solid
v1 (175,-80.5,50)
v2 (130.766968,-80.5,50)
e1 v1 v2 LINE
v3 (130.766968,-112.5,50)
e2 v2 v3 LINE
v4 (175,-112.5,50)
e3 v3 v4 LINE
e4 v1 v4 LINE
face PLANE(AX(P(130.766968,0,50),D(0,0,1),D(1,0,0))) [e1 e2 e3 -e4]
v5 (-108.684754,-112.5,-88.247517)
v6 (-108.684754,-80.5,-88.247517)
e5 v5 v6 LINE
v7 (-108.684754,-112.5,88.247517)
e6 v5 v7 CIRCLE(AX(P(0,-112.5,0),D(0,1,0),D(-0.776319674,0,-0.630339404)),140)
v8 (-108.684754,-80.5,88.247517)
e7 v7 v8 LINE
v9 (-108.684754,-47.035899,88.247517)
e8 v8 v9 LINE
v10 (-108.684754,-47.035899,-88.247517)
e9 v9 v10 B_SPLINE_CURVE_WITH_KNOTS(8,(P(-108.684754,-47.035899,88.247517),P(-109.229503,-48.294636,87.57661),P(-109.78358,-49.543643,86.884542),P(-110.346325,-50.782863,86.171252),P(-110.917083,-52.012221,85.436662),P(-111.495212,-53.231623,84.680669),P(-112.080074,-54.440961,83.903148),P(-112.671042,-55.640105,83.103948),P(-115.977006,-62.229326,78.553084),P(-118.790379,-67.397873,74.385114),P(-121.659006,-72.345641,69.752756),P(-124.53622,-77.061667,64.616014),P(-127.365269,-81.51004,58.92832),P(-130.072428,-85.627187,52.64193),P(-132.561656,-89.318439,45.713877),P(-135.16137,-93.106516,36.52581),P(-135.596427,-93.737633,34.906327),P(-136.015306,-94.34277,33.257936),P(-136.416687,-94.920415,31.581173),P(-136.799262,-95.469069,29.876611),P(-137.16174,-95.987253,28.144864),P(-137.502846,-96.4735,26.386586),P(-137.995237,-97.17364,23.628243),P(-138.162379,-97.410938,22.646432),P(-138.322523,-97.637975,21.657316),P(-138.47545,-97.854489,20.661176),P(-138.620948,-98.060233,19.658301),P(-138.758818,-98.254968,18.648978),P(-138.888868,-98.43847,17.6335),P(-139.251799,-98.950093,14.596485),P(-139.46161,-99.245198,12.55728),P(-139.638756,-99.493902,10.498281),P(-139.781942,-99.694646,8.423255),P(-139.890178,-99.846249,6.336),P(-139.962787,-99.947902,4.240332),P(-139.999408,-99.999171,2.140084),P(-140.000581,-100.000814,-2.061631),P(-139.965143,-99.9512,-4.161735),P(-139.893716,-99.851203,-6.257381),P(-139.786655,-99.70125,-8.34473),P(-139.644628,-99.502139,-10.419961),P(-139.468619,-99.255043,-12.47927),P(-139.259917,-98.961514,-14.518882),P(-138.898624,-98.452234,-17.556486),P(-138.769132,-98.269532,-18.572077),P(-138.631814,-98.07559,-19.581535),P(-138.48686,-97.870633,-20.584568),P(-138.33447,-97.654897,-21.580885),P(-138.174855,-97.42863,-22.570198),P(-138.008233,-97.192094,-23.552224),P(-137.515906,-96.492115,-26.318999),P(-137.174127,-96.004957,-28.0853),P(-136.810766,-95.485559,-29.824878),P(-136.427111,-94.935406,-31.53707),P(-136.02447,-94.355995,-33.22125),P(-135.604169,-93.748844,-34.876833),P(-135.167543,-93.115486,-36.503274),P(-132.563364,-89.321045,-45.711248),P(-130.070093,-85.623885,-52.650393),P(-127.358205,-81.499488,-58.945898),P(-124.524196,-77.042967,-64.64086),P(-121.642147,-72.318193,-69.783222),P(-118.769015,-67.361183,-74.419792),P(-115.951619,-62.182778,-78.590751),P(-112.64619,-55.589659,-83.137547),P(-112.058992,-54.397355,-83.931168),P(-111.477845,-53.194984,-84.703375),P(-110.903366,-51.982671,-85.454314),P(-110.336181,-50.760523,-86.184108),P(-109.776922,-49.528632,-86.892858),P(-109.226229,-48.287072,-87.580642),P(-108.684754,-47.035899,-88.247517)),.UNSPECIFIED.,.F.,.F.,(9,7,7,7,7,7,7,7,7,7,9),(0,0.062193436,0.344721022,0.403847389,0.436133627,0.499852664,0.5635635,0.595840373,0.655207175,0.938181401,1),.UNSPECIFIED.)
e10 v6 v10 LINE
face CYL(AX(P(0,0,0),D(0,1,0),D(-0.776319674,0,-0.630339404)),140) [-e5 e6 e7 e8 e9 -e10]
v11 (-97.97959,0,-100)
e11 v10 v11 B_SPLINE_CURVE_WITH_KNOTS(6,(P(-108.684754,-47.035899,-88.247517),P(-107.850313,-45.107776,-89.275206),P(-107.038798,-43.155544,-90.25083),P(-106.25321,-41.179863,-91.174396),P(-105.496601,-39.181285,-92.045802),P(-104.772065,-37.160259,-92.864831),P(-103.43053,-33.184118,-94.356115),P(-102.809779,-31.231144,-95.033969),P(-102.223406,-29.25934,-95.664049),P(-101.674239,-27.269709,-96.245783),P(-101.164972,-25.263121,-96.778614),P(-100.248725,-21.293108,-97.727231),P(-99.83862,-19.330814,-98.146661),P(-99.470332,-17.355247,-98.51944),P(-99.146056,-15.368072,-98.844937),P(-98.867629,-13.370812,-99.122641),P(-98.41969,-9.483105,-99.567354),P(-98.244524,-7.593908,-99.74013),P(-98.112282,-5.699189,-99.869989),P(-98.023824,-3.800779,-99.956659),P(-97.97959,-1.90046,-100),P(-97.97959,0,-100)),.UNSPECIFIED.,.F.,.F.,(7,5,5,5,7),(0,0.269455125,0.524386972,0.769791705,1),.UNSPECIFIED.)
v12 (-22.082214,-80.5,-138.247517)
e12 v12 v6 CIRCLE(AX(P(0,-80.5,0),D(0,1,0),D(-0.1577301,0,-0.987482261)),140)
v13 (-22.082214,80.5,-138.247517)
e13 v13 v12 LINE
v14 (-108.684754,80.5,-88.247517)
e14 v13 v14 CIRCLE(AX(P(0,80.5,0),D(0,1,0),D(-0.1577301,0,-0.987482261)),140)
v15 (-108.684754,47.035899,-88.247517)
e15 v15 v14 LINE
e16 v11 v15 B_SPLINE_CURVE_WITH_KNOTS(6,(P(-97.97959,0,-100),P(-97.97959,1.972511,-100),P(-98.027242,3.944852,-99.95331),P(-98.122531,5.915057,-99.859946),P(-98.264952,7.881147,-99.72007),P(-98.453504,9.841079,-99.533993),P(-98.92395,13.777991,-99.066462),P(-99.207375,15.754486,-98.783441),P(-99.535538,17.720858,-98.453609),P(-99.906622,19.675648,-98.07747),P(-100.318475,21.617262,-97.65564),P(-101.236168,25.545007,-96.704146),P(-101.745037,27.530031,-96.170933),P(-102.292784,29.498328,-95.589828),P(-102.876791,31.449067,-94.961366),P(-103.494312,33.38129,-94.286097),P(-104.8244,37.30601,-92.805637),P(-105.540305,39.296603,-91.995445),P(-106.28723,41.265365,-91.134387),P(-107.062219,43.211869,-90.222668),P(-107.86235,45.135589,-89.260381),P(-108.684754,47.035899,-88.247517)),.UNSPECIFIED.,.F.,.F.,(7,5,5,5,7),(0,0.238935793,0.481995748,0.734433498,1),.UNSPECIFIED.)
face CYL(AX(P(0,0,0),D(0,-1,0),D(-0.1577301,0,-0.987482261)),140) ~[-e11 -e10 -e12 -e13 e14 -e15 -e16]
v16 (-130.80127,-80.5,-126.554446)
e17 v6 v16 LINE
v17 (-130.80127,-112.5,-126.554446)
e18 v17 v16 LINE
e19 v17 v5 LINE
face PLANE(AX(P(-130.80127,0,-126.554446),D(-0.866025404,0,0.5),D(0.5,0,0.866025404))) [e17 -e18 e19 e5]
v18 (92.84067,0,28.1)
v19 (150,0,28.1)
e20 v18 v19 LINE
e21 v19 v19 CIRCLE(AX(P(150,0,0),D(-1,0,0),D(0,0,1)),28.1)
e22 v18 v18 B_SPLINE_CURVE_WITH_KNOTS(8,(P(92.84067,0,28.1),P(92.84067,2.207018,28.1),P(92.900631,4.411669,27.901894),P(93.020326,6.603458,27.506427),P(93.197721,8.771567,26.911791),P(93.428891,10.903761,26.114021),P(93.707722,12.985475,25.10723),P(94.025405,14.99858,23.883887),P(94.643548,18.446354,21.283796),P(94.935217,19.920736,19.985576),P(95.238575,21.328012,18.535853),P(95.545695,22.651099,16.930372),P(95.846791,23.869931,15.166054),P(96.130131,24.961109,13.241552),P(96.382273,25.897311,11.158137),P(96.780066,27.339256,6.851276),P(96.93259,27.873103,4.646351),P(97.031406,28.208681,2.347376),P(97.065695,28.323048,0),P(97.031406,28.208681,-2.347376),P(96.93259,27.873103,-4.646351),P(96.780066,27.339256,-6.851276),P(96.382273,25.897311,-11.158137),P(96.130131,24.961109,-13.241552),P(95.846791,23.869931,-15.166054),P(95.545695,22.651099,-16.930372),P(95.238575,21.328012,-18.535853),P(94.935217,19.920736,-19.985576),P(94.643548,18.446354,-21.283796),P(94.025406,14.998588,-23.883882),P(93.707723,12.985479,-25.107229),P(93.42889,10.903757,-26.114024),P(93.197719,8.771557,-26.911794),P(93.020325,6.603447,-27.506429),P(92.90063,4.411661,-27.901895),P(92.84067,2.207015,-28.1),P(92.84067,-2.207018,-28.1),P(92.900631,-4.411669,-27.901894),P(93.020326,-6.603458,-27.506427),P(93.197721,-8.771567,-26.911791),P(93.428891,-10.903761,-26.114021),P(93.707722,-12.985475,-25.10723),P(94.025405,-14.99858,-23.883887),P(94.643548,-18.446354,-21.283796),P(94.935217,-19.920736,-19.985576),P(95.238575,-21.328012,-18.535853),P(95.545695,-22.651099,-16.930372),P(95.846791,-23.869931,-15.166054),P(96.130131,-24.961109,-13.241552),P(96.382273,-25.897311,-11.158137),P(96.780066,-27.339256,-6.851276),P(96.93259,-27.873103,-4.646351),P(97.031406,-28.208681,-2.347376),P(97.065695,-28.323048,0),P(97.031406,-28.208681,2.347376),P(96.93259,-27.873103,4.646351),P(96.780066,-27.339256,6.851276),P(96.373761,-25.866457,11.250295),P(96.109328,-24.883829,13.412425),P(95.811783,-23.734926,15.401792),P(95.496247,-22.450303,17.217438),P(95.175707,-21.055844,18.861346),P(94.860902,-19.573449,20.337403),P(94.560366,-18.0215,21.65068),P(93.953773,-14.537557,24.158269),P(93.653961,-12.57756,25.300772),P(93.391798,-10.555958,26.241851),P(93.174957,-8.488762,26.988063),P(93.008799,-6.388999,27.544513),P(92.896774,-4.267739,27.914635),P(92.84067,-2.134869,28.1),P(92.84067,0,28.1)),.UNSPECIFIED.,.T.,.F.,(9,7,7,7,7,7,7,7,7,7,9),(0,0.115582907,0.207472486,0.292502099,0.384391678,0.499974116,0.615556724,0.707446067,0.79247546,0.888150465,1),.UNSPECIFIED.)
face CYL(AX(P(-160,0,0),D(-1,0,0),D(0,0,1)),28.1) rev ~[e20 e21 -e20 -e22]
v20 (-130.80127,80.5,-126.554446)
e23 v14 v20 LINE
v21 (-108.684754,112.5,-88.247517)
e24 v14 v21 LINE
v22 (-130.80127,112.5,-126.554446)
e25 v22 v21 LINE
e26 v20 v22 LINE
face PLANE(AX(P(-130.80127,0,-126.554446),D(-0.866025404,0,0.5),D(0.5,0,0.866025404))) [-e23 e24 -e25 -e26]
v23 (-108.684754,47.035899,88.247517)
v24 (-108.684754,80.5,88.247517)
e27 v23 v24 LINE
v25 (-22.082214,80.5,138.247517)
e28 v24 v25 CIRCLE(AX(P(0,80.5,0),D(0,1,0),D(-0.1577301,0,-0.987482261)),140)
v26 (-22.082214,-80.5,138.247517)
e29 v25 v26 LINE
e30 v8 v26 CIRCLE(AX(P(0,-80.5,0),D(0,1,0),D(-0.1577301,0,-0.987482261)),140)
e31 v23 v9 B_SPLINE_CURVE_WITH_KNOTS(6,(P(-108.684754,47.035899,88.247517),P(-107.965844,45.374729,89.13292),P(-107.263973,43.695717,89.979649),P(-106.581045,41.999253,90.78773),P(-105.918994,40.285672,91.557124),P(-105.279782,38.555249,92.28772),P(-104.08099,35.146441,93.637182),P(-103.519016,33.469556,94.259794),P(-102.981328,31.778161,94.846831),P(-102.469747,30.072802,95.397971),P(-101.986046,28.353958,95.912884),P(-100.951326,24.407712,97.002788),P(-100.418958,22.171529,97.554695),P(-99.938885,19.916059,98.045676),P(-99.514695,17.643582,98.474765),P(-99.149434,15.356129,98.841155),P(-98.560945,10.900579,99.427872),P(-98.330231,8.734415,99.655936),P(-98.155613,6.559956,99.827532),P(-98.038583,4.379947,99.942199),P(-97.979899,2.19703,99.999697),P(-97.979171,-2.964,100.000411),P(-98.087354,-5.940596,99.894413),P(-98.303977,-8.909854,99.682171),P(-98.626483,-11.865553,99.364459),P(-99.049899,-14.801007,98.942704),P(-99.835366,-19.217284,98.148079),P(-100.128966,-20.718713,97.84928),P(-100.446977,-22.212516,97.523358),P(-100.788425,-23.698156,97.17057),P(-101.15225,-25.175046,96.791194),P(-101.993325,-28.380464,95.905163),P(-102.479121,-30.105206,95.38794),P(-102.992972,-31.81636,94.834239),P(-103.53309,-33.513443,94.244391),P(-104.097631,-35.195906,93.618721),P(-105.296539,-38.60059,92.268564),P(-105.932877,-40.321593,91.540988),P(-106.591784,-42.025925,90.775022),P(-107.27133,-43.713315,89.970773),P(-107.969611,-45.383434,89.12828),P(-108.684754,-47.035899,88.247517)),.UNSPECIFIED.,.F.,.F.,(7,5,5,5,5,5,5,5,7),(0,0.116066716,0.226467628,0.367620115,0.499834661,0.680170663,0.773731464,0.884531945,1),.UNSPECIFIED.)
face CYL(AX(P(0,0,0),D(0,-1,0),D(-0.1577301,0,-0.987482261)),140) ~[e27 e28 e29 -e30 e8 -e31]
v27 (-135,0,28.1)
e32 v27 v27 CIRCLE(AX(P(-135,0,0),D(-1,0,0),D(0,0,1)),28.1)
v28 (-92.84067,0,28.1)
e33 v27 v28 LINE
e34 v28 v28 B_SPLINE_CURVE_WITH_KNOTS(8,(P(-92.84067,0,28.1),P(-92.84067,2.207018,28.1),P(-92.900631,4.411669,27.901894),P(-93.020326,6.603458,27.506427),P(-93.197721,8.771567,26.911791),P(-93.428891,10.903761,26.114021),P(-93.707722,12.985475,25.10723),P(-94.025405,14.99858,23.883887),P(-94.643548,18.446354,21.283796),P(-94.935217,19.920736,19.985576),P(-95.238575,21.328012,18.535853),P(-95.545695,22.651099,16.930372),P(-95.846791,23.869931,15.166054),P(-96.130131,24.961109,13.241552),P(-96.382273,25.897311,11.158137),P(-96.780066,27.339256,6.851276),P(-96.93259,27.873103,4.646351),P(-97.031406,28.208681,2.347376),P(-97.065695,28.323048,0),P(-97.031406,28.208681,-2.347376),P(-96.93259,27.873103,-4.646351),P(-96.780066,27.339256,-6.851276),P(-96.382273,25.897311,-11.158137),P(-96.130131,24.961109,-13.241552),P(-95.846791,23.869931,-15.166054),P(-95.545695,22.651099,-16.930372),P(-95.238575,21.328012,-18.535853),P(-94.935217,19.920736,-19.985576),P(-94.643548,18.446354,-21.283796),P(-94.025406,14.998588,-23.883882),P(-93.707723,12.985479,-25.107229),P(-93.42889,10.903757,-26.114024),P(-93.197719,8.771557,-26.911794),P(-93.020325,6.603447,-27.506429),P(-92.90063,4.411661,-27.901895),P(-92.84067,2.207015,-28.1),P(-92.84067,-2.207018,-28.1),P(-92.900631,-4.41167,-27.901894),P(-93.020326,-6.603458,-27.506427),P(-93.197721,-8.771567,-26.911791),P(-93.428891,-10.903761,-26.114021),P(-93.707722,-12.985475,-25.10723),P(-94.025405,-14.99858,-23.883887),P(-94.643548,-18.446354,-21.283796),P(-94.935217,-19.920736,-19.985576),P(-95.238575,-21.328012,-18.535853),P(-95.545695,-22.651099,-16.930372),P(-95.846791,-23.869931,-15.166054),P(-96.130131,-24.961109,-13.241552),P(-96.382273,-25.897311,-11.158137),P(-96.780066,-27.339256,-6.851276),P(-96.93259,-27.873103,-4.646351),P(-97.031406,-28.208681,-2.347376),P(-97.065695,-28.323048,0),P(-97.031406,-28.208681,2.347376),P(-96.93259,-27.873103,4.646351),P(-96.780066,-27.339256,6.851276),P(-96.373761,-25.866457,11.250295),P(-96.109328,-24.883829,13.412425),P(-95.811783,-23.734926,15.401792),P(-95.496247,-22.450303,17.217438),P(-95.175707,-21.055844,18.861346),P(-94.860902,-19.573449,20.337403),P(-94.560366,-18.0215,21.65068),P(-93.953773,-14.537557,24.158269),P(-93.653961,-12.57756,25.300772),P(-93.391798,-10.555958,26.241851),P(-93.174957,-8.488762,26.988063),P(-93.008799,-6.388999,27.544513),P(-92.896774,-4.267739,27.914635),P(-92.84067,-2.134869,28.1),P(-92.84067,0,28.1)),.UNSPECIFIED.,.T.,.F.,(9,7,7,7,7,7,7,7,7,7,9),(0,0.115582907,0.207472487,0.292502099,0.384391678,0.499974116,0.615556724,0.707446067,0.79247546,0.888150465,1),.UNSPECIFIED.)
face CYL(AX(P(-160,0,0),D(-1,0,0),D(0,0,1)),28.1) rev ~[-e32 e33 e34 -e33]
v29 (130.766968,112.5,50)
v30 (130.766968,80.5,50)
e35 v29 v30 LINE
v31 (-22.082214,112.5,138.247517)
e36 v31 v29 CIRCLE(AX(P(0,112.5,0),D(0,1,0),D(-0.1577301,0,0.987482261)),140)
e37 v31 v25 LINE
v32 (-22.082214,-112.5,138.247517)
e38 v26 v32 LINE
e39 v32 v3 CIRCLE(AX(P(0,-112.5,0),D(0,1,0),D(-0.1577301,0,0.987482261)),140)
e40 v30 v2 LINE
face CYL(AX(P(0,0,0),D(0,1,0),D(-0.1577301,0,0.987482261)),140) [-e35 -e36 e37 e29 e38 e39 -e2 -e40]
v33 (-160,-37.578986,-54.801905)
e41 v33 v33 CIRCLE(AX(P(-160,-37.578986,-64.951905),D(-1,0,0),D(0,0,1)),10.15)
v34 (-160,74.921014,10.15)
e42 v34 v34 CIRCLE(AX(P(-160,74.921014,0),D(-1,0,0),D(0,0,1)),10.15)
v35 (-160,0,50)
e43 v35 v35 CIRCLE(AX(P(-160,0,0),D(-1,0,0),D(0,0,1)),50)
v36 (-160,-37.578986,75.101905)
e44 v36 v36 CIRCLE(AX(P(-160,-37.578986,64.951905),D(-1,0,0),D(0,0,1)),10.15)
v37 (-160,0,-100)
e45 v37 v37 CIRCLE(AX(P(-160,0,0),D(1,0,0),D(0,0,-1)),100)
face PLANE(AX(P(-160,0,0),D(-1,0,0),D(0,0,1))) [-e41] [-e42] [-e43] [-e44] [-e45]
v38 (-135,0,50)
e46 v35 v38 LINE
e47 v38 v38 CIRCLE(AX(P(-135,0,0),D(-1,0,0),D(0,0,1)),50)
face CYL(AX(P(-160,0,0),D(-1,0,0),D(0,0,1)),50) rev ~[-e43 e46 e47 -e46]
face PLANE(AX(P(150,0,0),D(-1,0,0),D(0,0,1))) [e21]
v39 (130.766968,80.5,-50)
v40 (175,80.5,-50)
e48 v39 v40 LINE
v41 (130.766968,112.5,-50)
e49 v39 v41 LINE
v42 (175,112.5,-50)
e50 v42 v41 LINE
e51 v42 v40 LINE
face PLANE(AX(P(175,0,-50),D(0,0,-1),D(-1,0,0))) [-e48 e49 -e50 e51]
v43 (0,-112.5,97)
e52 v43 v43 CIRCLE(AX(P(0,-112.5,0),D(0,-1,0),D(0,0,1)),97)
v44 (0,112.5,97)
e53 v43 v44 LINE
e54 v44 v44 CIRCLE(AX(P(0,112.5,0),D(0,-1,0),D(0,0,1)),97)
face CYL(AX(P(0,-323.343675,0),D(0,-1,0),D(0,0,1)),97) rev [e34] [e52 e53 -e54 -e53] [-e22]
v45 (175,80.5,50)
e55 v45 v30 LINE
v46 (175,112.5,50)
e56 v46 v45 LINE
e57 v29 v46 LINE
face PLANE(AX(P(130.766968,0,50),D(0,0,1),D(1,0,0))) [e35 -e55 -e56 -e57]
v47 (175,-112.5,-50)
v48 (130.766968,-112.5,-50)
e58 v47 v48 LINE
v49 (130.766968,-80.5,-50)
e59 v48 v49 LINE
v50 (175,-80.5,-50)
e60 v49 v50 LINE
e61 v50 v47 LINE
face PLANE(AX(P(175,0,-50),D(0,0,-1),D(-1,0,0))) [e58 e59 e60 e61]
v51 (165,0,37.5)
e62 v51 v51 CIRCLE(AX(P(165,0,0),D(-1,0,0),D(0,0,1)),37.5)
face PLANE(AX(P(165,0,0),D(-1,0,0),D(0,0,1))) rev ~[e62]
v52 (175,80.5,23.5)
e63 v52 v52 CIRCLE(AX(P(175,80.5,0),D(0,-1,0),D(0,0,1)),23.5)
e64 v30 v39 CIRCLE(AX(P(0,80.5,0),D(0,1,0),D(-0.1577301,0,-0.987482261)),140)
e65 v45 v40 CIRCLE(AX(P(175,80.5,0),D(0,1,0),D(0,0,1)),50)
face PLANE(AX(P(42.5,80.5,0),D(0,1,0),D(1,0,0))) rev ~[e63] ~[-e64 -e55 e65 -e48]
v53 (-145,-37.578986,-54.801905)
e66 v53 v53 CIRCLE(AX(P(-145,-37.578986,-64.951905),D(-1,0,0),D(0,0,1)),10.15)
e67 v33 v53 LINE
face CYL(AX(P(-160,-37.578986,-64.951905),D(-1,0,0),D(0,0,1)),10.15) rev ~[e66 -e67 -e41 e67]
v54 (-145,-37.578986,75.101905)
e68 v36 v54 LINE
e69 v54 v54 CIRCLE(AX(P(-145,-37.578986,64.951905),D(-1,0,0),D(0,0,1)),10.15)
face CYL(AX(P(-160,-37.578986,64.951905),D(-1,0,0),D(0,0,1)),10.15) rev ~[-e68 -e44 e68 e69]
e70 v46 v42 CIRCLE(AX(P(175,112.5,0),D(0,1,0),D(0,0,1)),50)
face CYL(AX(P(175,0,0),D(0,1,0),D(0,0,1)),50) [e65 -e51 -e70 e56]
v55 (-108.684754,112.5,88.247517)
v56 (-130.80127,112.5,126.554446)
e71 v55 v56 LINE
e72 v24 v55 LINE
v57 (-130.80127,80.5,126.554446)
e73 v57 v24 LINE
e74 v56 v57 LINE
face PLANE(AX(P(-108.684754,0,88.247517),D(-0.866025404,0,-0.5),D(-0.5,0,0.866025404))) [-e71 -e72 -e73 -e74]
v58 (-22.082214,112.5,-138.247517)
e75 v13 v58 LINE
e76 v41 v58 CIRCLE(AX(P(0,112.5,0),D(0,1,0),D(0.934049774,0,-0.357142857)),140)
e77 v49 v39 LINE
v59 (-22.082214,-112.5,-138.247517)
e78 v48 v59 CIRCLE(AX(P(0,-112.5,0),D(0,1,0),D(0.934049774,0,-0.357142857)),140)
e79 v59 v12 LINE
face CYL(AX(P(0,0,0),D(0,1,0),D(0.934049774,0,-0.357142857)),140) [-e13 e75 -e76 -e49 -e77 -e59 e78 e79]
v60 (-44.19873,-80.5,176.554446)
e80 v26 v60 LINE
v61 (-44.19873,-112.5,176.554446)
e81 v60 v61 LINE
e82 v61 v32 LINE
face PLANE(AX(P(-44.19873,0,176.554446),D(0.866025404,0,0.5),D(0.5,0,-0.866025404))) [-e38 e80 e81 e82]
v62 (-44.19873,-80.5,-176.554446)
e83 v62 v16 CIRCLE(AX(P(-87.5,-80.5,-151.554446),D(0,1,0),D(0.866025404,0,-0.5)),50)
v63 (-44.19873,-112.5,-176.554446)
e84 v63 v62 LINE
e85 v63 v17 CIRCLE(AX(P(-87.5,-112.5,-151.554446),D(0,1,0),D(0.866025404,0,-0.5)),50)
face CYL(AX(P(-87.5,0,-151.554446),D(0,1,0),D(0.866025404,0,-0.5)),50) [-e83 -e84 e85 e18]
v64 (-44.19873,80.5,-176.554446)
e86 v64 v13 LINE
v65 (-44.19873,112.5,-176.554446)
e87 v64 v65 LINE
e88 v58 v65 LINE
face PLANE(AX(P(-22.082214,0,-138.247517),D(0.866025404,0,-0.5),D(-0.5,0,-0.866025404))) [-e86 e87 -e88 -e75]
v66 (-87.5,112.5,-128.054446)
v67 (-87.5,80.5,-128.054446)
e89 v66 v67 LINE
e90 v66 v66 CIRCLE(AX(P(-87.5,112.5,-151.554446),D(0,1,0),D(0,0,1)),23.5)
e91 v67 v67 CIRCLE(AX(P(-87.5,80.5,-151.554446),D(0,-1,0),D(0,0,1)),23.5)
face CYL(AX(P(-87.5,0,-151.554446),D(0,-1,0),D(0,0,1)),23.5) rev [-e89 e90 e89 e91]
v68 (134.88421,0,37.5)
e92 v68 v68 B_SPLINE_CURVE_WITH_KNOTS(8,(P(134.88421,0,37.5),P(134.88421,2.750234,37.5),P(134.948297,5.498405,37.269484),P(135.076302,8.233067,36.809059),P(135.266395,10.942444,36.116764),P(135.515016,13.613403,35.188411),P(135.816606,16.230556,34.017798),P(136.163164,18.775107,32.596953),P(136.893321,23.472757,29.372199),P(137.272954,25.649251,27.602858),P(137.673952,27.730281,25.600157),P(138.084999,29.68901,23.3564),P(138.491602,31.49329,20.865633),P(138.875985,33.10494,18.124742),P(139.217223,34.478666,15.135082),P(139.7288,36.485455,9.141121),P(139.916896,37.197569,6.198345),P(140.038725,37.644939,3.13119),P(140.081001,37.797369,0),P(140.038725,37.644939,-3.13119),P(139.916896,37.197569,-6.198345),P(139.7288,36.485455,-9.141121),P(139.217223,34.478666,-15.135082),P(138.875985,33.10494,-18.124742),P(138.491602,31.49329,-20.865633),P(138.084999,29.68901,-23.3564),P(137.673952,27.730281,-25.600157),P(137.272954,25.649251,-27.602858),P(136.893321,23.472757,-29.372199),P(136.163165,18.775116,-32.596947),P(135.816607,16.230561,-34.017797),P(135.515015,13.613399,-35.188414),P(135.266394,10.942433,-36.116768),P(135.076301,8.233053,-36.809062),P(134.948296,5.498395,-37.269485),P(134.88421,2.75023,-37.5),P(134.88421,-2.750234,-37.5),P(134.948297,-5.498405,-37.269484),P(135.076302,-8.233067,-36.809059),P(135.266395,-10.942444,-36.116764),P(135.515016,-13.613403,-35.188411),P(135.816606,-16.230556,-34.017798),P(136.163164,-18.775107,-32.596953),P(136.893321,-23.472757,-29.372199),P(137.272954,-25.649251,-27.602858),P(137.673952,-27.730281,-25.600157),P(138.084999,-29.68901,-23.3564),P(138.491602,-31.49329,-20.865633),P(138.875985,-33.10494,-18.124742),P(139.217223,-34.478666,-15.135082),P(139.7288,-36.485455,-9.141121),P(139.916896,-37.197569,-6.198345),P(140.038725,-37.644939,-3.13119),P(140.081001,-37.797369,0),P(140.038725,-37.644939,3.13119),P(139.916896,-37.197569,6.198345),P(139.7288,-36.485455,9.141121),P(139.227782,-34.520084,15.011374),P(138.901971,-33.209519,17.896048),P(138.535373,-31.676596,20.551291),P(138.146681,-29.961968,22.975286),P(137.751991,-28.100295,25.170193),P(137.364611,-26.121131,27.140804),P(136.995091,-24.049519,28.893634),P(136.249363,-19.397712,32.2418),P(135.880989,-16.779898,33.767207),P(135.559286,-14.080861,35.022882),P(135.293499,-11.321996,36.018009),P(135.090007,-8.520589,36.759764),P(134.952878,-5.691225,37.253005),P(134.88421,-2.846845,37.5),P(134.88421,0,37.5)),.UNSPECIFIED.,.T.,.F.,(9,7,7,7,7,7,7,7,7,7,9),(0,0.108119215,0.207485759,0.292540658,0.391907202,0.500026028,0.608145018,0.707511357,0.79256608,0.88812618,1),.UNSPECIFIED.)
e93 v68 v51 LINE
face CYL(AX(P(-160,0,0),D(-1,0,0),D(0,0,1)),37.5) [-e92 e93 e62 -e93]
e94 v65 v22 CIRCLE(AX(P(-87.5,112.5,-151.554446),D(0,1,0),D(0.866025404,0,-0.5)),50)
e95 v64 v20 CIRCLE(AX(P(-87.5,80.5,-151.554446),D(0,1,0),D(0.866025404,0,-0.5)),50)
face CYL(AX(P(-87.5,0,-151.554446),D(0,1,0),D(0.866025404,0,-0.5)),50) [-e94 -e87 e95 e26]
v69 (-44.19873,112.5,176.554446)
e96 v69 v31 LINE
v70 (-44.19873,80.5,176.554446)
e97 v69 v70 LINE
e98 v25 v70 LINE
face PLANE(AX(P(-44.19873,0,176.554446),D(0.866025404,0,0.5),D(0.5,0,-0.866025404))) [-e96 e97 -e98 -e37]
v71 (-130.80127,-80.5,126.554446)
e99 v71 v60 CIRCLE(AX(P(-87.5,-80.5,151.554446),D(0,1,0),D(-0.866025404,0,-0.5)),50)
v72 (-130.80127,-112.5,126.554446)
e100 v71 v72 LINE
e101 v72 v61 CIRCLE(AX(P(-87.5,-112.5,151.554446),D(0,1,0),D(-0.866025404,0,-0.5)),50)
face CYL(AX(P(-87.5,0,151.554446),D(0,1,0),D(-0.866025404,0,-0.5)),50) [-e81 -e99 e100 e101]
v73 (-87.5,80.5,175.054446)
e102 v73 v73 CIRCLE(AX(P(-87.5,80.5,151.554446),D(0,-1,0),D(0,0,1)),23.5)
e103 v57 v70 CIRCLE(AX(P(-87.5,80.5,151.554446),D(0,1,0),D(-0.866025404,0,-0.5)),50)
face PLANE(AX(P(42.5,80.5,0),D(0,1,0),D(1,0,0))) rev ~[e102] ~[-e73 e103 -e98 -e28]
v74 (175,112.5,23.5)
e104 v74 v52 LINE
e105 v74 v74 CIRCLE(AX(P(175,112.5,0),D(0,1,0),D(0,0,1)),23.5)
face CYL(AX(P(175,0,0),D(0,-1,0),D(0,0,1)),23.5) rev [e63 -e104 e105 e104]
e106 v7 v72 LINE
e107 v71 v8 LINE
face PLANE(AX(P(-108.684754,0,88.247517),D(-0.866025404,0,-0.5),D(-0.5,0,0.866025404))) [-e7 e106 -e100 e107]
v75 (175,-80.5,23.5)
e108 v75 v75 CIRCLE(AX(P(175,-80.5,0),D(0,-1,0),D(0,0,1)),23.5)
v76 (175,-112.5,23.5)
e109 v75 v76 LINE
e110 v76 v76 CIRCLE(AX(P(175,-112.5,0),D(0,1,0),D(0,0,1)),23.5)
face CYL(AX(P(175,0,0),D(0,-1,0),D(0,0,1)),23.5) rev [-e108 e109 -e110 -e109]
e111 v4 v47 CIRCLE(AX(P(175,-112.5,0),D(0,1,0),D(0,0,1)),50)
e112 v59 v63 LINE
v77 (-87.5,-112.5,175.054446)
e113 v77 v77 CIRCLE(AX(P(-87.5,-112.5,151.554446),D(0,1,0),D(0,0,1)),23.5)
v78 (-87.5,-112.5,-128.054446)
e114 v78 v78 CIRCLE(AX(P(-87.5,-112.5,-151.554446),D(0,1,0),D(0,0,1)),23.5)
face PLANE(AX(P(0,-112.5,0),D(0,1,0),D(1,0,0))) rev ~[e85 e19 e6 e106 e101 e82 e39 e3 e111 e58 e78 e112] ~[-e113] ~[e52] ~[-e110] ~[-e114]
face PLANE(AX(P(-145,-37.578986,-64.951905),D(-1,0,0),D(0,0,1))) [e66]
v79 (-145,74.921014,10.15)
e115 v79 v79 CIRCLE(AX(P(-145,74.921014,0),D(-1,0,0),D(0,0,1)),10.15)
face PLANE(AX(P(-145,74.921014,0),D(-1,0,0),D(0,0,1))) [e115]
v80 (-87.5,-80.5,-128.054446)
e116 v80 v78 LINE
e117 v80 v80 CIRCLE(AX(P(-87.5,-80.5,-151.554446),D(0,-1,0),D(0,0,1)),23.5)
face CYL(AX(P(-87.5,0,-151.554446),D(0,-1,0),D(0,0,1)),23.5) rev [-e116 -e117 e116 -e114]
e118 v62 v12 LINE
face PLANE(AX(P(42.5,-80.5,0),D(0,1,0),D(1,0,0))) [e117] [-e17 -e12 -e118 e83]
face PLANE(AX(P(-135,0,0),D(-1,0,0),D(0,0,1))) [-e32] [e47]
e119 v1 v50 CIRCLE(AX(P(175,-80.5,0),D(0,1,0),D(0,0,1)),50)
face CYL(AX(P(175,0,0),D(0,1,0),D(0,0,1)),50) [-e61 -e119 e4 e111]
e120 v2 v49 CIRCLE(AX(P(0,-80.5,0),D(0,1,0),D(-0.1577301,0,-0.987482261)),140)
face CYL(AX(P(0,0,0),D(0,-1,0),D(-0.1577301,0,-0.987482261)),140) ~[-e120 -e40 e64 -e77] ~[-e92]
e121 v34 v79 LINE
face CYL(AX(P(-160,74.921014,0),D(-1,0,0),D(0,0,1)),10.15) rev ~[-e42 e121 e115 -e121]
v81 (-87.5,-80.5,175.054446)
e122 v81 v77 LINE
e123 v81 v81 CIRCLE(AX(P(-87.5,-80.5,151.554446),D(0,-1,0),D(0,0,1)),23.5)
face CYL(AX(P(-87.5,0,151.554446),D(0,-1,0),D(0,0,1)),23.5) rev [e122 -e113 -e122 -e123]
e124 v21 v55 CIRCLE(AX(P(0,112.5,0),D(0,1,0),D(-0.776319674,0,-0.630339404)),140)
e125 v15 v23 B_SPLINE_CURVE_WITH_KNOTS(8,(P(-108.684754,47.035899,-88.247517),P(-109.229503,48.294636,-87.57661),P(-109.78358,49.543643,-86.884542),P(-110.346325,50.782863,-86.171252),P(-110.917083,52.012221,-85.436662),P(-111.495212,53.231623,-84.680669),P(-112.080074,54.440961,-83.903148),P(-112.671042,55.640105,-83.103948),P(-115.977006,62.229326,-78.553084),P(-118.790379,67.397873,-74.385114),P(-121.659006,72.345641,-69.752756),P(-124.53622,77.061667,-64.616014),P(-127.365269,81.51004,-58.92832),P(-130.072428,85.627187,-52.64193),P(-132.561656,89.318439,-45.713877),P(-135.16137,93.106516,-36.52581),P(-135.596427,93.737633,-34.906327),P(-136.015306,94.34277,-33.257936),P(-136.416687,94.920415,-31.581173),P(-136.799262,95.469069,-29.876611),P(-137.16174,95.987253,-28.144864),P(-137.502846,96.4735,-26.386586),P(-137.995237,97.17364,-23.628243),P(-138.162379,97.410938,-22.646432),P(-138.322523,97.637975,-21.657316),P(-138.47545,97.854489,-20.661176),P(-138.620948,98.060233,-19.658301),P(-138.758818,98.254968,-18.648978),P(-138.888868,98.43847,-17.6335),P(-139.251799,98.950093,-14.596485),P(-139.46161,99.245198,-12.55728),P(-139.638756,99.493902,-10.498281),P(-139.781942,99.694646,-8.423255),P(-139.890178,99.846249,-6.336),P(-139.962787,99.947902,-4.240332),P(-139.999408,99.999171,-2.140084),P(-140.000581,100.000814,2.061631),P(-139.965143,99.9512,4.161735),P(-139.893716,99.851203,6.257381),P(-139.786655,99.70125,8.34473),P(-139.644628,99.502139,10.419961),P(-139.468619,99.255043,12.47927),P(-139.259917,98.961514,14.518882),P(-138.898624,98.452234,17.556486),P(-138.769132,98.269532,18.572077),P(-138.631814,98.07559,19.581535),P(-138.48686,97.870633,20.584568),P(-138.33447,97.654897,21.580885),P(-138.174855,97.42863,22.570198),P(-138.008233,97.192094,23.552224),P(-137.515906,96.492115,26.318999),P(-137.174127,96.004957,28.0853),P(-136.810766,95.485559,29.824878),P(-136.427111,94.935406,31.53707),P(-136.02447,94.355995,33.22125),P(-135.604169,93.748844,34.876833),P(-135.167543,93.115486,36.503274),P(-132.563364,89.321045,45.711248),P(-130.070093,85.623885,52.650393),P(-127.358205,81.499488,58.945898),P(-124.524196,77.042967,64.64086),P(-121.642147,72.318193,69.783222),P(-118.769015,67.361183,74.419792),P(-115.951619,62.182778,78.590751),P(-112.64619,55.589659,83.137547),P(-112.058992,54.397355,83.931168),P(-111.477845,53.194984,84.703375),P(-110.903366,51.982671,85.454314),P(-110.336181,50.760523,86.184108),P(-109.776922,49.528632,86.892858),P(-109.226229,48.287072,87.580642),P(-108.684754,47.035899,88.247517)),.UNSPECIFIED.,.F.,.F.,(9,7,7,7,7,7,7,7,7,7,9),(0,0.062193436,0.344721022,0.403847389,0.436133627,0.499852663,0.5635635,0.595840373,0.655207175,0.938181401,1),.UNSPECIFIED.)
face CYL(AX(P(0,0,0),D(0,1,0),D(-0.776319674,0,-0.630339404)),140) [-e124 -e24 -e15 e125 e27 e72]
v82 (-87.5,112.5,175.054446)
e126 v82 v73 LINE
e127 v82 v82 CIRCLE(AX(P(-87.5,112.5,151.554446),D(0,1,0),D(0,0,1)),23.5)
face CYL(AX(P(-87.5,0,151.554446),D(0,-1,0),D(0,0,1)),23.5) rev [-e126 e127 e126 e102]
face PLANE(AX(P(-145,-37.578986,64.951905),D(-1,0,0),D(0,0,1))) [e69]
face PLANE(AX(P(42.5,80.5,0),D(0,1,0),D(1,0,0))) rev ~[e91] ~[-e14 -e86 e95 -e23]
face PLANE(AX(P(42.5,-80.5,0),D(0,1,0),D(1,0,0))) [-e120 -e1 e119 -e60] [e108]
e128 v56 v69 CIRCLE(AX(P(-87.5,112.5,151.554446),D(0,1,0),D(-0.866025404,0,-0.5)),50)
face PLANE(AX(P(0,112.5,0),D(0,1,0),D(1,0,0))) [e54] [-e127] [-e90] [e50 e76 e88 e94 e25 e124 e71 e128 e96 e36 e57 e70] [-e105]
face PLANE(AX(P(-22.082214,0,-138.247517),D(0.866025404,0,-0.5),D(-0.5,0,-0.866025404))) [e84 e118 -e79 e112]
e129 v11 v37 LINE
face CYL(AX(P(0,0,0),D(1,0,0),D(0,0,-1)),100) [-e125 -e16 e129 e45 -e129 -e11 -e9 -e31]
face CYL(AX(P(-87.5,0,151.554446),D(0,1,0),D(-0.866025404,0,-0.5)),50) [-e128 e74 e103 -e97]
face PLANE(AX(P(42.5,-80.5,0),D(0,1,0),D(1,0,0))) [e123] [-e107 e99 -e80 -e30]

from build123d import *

# Parameters (mm, degrees)
SKETCH1_R               = 23.5
BOSS_EXTRUDE1_DEPTH     = 112.5
SKETCH2_OUTSIDE_W       = 484.702
SKETCH2_OUTSIDE_H       = 522.81
SKETCH2_OUTSIDE_R       = 140
CUT_EXTRUDE2_DEPTH      = 80.5
SKETCH3_R               = 100
BOSS_EXTRUDE2_DEPTH     = 160
SKETCH5_R               = 37.5
BOSS_EXTRUDE3_DEPTH     = 325
SKETCH6_R               = 28.1
CUT_EXTRUDE3_DEPTH      = 310
SKETCH7_R               = 50
CUT_EXTRUDE4_DEPTH      = 25
SKETCH8_R               = 10.15
CUT_EXTRUDE5_DEPTH      = 15
CUT_EXTRUDE6_DEPTH      = 323.343674653
CUT_EXTRUDE6_DEPTH_BACK = 323.343674653
SKETCH9_R               = 97


with BuildPart() as part:
    # Sketch1 → Boss-Extrude1 (new, symmetric)
    with BuildSketch(Plane(origin=(0, 0, 0), x_dir=(1, 0, 0), z_dir=(0, 1, 0))):
        with BuildLine():
            Line((175, 50), (130.766968306, 50))
            ThreePointArc((130.766968306, 50), (70, 121.24355653), (-22.082213964, 138.247516529))
            Line((-22.082213964, 138.247516529), (-44.198729811, 176.554445662))
            ThreePointArc((-44.198729811, 176.554445662), (-112.5, 194.855715852), (-130.801270189, 126.554445662))
            Line((-130.801270189, 126.554445662), (-108.684754342, 88.247516529))
            ThreePointArc((-108.684754342, 88.247516529), (-140, 0), (-108.684754342, -88.247516529))
            Line((-108.684754342, -88.247516529), (-130.801270189, -126.554445662))
            ThreePointArc((-130.801270189, -126.554445662), (-112.5, -194.855715851), (-44.198729811, -176.554445662))
            Line((-44.198729811, -176.554445662), (-22.082213964, -138.247516529))
            ThreePointArc((-22.082213964, -138.247516529), (70, -121.24355653), (130.766968306, -50))
            Line((130.766968306, -50), (175, -50))
            ThreePointArc((175, -50), (225, 0), (175, 50))
        make_face()
        with Locations(Location((175, 0, 0), (0, 0, 270))):
            Circle(SKETCH1_R, mode=Mode.SUBTRACT)
        with Locations(Location((-87.5, 151.554445662, 0), (0, 0, 270))):
            Circle(SKETCH1_R, mode=Mode.SUBTRACT)
        with Locations(Location((-87.5, -151.554445662, 0), (0, 0, 270))):
            Circle(SKETCH1_R, mode=Mode.SUBTRACT)
    extrude(amount=BOSS_EXTRUDE1_DEPTH, both=True)

    # Sketch2 outside → Cut-Extrude2 (cut, symmetric)
    with BuildSketch(Plane(origin=(0, 0, 0), x_dir=(1, 0, 0), z_dir=(0, 1, 0))):
        with Locations((42.5, 0)):
            Rectangle(SKETCH2_OUTSIDE_W, SKETCH2_OUTSIDE_H)
        with Locations(Location((0, 0, 0), (0, 0, 99.075167572))):
            Circle(SKETCH2_OUTSIDE_R, mode=Mode.SUBTRACT)
    extrude(amount=CUT_EXTRUDE2_DEPTH, both=True, mode=Mode.SUBTRACT)

    # Sketch3 → Boss-Extrude2 (add)
    with BuildSketch(Plane(origin=(0, 0, 0), x_dir=(0, 0, -1), z_dir=(1, 0, 0))):
        Circle(SKETCH3_R)
    extrude(amount=-BOSS_EXTRUDE2_DEPTH)

    # Sketch5 → Boss-Extrude3 (add)
    with BuildSketch(Plane.ZY.offset(160)):
        Circle(SKETCH5_R)
    extrude(amount=-BOSS_EXTRUDE3_DEPTH)

    # Sketch6 → Cut-Extrude3 (cut)
    with BuildSketch(Plane.ZY.offset(160)):
        Circle(SKETCH6_R)
    extrude(amount=-CUT_EXTRUDE3_DEPTH, mode=Mode.SUBTRACT)

    # Sketch7 → Cut-Extrude4 (cut)
    with BuildSketch(Plane.ZY.offset(160)):
        Circle(SKETCH7_R)
    extrude(amount=-CUT_EXTRUDE4_DEPTH, mode=Mode.SUBTRACT)

    # Sketch8 → Cut-Extrude5 (cut)
    with BuildSketch(Plane.ZY.offset(160)):
        with Locations((0, 74.921014489)):
            Circle(SKETCH8_R)
        with Locations((64.951905284, -37.578985511)):
            Circle(SKETCH8_R)
        with Locations((-64.951905284, -37.578985511)):
            Circle(SKETCH8_R)
    extrude(amount=-CUT_EXTRUDE5_DEPTH, mode=Mode.SUBTRACT)

    # Sketch9 → Cut-Extrude6 (cut, two sides: drawn at the far end of the back side and taken through both)
    with BuildSketch(Plane(origin=(0, 0, 0), x_dir=(1, 0, 0), z_dir=(0, 1, 0)).offset(-CUT_EXTRUDE6_DEPTH_BACK)):
        with Locations(Location((0, 0, 0), (0, 0, 270))):
            Circle(SKETCH9_R)
    extrude(amount=CUT_EXTRUDE6_DEPTH + CUT_EXTRUDE6_DEPTH_BACK, mode=Mode.SUBTRACT)


solid = part.part
